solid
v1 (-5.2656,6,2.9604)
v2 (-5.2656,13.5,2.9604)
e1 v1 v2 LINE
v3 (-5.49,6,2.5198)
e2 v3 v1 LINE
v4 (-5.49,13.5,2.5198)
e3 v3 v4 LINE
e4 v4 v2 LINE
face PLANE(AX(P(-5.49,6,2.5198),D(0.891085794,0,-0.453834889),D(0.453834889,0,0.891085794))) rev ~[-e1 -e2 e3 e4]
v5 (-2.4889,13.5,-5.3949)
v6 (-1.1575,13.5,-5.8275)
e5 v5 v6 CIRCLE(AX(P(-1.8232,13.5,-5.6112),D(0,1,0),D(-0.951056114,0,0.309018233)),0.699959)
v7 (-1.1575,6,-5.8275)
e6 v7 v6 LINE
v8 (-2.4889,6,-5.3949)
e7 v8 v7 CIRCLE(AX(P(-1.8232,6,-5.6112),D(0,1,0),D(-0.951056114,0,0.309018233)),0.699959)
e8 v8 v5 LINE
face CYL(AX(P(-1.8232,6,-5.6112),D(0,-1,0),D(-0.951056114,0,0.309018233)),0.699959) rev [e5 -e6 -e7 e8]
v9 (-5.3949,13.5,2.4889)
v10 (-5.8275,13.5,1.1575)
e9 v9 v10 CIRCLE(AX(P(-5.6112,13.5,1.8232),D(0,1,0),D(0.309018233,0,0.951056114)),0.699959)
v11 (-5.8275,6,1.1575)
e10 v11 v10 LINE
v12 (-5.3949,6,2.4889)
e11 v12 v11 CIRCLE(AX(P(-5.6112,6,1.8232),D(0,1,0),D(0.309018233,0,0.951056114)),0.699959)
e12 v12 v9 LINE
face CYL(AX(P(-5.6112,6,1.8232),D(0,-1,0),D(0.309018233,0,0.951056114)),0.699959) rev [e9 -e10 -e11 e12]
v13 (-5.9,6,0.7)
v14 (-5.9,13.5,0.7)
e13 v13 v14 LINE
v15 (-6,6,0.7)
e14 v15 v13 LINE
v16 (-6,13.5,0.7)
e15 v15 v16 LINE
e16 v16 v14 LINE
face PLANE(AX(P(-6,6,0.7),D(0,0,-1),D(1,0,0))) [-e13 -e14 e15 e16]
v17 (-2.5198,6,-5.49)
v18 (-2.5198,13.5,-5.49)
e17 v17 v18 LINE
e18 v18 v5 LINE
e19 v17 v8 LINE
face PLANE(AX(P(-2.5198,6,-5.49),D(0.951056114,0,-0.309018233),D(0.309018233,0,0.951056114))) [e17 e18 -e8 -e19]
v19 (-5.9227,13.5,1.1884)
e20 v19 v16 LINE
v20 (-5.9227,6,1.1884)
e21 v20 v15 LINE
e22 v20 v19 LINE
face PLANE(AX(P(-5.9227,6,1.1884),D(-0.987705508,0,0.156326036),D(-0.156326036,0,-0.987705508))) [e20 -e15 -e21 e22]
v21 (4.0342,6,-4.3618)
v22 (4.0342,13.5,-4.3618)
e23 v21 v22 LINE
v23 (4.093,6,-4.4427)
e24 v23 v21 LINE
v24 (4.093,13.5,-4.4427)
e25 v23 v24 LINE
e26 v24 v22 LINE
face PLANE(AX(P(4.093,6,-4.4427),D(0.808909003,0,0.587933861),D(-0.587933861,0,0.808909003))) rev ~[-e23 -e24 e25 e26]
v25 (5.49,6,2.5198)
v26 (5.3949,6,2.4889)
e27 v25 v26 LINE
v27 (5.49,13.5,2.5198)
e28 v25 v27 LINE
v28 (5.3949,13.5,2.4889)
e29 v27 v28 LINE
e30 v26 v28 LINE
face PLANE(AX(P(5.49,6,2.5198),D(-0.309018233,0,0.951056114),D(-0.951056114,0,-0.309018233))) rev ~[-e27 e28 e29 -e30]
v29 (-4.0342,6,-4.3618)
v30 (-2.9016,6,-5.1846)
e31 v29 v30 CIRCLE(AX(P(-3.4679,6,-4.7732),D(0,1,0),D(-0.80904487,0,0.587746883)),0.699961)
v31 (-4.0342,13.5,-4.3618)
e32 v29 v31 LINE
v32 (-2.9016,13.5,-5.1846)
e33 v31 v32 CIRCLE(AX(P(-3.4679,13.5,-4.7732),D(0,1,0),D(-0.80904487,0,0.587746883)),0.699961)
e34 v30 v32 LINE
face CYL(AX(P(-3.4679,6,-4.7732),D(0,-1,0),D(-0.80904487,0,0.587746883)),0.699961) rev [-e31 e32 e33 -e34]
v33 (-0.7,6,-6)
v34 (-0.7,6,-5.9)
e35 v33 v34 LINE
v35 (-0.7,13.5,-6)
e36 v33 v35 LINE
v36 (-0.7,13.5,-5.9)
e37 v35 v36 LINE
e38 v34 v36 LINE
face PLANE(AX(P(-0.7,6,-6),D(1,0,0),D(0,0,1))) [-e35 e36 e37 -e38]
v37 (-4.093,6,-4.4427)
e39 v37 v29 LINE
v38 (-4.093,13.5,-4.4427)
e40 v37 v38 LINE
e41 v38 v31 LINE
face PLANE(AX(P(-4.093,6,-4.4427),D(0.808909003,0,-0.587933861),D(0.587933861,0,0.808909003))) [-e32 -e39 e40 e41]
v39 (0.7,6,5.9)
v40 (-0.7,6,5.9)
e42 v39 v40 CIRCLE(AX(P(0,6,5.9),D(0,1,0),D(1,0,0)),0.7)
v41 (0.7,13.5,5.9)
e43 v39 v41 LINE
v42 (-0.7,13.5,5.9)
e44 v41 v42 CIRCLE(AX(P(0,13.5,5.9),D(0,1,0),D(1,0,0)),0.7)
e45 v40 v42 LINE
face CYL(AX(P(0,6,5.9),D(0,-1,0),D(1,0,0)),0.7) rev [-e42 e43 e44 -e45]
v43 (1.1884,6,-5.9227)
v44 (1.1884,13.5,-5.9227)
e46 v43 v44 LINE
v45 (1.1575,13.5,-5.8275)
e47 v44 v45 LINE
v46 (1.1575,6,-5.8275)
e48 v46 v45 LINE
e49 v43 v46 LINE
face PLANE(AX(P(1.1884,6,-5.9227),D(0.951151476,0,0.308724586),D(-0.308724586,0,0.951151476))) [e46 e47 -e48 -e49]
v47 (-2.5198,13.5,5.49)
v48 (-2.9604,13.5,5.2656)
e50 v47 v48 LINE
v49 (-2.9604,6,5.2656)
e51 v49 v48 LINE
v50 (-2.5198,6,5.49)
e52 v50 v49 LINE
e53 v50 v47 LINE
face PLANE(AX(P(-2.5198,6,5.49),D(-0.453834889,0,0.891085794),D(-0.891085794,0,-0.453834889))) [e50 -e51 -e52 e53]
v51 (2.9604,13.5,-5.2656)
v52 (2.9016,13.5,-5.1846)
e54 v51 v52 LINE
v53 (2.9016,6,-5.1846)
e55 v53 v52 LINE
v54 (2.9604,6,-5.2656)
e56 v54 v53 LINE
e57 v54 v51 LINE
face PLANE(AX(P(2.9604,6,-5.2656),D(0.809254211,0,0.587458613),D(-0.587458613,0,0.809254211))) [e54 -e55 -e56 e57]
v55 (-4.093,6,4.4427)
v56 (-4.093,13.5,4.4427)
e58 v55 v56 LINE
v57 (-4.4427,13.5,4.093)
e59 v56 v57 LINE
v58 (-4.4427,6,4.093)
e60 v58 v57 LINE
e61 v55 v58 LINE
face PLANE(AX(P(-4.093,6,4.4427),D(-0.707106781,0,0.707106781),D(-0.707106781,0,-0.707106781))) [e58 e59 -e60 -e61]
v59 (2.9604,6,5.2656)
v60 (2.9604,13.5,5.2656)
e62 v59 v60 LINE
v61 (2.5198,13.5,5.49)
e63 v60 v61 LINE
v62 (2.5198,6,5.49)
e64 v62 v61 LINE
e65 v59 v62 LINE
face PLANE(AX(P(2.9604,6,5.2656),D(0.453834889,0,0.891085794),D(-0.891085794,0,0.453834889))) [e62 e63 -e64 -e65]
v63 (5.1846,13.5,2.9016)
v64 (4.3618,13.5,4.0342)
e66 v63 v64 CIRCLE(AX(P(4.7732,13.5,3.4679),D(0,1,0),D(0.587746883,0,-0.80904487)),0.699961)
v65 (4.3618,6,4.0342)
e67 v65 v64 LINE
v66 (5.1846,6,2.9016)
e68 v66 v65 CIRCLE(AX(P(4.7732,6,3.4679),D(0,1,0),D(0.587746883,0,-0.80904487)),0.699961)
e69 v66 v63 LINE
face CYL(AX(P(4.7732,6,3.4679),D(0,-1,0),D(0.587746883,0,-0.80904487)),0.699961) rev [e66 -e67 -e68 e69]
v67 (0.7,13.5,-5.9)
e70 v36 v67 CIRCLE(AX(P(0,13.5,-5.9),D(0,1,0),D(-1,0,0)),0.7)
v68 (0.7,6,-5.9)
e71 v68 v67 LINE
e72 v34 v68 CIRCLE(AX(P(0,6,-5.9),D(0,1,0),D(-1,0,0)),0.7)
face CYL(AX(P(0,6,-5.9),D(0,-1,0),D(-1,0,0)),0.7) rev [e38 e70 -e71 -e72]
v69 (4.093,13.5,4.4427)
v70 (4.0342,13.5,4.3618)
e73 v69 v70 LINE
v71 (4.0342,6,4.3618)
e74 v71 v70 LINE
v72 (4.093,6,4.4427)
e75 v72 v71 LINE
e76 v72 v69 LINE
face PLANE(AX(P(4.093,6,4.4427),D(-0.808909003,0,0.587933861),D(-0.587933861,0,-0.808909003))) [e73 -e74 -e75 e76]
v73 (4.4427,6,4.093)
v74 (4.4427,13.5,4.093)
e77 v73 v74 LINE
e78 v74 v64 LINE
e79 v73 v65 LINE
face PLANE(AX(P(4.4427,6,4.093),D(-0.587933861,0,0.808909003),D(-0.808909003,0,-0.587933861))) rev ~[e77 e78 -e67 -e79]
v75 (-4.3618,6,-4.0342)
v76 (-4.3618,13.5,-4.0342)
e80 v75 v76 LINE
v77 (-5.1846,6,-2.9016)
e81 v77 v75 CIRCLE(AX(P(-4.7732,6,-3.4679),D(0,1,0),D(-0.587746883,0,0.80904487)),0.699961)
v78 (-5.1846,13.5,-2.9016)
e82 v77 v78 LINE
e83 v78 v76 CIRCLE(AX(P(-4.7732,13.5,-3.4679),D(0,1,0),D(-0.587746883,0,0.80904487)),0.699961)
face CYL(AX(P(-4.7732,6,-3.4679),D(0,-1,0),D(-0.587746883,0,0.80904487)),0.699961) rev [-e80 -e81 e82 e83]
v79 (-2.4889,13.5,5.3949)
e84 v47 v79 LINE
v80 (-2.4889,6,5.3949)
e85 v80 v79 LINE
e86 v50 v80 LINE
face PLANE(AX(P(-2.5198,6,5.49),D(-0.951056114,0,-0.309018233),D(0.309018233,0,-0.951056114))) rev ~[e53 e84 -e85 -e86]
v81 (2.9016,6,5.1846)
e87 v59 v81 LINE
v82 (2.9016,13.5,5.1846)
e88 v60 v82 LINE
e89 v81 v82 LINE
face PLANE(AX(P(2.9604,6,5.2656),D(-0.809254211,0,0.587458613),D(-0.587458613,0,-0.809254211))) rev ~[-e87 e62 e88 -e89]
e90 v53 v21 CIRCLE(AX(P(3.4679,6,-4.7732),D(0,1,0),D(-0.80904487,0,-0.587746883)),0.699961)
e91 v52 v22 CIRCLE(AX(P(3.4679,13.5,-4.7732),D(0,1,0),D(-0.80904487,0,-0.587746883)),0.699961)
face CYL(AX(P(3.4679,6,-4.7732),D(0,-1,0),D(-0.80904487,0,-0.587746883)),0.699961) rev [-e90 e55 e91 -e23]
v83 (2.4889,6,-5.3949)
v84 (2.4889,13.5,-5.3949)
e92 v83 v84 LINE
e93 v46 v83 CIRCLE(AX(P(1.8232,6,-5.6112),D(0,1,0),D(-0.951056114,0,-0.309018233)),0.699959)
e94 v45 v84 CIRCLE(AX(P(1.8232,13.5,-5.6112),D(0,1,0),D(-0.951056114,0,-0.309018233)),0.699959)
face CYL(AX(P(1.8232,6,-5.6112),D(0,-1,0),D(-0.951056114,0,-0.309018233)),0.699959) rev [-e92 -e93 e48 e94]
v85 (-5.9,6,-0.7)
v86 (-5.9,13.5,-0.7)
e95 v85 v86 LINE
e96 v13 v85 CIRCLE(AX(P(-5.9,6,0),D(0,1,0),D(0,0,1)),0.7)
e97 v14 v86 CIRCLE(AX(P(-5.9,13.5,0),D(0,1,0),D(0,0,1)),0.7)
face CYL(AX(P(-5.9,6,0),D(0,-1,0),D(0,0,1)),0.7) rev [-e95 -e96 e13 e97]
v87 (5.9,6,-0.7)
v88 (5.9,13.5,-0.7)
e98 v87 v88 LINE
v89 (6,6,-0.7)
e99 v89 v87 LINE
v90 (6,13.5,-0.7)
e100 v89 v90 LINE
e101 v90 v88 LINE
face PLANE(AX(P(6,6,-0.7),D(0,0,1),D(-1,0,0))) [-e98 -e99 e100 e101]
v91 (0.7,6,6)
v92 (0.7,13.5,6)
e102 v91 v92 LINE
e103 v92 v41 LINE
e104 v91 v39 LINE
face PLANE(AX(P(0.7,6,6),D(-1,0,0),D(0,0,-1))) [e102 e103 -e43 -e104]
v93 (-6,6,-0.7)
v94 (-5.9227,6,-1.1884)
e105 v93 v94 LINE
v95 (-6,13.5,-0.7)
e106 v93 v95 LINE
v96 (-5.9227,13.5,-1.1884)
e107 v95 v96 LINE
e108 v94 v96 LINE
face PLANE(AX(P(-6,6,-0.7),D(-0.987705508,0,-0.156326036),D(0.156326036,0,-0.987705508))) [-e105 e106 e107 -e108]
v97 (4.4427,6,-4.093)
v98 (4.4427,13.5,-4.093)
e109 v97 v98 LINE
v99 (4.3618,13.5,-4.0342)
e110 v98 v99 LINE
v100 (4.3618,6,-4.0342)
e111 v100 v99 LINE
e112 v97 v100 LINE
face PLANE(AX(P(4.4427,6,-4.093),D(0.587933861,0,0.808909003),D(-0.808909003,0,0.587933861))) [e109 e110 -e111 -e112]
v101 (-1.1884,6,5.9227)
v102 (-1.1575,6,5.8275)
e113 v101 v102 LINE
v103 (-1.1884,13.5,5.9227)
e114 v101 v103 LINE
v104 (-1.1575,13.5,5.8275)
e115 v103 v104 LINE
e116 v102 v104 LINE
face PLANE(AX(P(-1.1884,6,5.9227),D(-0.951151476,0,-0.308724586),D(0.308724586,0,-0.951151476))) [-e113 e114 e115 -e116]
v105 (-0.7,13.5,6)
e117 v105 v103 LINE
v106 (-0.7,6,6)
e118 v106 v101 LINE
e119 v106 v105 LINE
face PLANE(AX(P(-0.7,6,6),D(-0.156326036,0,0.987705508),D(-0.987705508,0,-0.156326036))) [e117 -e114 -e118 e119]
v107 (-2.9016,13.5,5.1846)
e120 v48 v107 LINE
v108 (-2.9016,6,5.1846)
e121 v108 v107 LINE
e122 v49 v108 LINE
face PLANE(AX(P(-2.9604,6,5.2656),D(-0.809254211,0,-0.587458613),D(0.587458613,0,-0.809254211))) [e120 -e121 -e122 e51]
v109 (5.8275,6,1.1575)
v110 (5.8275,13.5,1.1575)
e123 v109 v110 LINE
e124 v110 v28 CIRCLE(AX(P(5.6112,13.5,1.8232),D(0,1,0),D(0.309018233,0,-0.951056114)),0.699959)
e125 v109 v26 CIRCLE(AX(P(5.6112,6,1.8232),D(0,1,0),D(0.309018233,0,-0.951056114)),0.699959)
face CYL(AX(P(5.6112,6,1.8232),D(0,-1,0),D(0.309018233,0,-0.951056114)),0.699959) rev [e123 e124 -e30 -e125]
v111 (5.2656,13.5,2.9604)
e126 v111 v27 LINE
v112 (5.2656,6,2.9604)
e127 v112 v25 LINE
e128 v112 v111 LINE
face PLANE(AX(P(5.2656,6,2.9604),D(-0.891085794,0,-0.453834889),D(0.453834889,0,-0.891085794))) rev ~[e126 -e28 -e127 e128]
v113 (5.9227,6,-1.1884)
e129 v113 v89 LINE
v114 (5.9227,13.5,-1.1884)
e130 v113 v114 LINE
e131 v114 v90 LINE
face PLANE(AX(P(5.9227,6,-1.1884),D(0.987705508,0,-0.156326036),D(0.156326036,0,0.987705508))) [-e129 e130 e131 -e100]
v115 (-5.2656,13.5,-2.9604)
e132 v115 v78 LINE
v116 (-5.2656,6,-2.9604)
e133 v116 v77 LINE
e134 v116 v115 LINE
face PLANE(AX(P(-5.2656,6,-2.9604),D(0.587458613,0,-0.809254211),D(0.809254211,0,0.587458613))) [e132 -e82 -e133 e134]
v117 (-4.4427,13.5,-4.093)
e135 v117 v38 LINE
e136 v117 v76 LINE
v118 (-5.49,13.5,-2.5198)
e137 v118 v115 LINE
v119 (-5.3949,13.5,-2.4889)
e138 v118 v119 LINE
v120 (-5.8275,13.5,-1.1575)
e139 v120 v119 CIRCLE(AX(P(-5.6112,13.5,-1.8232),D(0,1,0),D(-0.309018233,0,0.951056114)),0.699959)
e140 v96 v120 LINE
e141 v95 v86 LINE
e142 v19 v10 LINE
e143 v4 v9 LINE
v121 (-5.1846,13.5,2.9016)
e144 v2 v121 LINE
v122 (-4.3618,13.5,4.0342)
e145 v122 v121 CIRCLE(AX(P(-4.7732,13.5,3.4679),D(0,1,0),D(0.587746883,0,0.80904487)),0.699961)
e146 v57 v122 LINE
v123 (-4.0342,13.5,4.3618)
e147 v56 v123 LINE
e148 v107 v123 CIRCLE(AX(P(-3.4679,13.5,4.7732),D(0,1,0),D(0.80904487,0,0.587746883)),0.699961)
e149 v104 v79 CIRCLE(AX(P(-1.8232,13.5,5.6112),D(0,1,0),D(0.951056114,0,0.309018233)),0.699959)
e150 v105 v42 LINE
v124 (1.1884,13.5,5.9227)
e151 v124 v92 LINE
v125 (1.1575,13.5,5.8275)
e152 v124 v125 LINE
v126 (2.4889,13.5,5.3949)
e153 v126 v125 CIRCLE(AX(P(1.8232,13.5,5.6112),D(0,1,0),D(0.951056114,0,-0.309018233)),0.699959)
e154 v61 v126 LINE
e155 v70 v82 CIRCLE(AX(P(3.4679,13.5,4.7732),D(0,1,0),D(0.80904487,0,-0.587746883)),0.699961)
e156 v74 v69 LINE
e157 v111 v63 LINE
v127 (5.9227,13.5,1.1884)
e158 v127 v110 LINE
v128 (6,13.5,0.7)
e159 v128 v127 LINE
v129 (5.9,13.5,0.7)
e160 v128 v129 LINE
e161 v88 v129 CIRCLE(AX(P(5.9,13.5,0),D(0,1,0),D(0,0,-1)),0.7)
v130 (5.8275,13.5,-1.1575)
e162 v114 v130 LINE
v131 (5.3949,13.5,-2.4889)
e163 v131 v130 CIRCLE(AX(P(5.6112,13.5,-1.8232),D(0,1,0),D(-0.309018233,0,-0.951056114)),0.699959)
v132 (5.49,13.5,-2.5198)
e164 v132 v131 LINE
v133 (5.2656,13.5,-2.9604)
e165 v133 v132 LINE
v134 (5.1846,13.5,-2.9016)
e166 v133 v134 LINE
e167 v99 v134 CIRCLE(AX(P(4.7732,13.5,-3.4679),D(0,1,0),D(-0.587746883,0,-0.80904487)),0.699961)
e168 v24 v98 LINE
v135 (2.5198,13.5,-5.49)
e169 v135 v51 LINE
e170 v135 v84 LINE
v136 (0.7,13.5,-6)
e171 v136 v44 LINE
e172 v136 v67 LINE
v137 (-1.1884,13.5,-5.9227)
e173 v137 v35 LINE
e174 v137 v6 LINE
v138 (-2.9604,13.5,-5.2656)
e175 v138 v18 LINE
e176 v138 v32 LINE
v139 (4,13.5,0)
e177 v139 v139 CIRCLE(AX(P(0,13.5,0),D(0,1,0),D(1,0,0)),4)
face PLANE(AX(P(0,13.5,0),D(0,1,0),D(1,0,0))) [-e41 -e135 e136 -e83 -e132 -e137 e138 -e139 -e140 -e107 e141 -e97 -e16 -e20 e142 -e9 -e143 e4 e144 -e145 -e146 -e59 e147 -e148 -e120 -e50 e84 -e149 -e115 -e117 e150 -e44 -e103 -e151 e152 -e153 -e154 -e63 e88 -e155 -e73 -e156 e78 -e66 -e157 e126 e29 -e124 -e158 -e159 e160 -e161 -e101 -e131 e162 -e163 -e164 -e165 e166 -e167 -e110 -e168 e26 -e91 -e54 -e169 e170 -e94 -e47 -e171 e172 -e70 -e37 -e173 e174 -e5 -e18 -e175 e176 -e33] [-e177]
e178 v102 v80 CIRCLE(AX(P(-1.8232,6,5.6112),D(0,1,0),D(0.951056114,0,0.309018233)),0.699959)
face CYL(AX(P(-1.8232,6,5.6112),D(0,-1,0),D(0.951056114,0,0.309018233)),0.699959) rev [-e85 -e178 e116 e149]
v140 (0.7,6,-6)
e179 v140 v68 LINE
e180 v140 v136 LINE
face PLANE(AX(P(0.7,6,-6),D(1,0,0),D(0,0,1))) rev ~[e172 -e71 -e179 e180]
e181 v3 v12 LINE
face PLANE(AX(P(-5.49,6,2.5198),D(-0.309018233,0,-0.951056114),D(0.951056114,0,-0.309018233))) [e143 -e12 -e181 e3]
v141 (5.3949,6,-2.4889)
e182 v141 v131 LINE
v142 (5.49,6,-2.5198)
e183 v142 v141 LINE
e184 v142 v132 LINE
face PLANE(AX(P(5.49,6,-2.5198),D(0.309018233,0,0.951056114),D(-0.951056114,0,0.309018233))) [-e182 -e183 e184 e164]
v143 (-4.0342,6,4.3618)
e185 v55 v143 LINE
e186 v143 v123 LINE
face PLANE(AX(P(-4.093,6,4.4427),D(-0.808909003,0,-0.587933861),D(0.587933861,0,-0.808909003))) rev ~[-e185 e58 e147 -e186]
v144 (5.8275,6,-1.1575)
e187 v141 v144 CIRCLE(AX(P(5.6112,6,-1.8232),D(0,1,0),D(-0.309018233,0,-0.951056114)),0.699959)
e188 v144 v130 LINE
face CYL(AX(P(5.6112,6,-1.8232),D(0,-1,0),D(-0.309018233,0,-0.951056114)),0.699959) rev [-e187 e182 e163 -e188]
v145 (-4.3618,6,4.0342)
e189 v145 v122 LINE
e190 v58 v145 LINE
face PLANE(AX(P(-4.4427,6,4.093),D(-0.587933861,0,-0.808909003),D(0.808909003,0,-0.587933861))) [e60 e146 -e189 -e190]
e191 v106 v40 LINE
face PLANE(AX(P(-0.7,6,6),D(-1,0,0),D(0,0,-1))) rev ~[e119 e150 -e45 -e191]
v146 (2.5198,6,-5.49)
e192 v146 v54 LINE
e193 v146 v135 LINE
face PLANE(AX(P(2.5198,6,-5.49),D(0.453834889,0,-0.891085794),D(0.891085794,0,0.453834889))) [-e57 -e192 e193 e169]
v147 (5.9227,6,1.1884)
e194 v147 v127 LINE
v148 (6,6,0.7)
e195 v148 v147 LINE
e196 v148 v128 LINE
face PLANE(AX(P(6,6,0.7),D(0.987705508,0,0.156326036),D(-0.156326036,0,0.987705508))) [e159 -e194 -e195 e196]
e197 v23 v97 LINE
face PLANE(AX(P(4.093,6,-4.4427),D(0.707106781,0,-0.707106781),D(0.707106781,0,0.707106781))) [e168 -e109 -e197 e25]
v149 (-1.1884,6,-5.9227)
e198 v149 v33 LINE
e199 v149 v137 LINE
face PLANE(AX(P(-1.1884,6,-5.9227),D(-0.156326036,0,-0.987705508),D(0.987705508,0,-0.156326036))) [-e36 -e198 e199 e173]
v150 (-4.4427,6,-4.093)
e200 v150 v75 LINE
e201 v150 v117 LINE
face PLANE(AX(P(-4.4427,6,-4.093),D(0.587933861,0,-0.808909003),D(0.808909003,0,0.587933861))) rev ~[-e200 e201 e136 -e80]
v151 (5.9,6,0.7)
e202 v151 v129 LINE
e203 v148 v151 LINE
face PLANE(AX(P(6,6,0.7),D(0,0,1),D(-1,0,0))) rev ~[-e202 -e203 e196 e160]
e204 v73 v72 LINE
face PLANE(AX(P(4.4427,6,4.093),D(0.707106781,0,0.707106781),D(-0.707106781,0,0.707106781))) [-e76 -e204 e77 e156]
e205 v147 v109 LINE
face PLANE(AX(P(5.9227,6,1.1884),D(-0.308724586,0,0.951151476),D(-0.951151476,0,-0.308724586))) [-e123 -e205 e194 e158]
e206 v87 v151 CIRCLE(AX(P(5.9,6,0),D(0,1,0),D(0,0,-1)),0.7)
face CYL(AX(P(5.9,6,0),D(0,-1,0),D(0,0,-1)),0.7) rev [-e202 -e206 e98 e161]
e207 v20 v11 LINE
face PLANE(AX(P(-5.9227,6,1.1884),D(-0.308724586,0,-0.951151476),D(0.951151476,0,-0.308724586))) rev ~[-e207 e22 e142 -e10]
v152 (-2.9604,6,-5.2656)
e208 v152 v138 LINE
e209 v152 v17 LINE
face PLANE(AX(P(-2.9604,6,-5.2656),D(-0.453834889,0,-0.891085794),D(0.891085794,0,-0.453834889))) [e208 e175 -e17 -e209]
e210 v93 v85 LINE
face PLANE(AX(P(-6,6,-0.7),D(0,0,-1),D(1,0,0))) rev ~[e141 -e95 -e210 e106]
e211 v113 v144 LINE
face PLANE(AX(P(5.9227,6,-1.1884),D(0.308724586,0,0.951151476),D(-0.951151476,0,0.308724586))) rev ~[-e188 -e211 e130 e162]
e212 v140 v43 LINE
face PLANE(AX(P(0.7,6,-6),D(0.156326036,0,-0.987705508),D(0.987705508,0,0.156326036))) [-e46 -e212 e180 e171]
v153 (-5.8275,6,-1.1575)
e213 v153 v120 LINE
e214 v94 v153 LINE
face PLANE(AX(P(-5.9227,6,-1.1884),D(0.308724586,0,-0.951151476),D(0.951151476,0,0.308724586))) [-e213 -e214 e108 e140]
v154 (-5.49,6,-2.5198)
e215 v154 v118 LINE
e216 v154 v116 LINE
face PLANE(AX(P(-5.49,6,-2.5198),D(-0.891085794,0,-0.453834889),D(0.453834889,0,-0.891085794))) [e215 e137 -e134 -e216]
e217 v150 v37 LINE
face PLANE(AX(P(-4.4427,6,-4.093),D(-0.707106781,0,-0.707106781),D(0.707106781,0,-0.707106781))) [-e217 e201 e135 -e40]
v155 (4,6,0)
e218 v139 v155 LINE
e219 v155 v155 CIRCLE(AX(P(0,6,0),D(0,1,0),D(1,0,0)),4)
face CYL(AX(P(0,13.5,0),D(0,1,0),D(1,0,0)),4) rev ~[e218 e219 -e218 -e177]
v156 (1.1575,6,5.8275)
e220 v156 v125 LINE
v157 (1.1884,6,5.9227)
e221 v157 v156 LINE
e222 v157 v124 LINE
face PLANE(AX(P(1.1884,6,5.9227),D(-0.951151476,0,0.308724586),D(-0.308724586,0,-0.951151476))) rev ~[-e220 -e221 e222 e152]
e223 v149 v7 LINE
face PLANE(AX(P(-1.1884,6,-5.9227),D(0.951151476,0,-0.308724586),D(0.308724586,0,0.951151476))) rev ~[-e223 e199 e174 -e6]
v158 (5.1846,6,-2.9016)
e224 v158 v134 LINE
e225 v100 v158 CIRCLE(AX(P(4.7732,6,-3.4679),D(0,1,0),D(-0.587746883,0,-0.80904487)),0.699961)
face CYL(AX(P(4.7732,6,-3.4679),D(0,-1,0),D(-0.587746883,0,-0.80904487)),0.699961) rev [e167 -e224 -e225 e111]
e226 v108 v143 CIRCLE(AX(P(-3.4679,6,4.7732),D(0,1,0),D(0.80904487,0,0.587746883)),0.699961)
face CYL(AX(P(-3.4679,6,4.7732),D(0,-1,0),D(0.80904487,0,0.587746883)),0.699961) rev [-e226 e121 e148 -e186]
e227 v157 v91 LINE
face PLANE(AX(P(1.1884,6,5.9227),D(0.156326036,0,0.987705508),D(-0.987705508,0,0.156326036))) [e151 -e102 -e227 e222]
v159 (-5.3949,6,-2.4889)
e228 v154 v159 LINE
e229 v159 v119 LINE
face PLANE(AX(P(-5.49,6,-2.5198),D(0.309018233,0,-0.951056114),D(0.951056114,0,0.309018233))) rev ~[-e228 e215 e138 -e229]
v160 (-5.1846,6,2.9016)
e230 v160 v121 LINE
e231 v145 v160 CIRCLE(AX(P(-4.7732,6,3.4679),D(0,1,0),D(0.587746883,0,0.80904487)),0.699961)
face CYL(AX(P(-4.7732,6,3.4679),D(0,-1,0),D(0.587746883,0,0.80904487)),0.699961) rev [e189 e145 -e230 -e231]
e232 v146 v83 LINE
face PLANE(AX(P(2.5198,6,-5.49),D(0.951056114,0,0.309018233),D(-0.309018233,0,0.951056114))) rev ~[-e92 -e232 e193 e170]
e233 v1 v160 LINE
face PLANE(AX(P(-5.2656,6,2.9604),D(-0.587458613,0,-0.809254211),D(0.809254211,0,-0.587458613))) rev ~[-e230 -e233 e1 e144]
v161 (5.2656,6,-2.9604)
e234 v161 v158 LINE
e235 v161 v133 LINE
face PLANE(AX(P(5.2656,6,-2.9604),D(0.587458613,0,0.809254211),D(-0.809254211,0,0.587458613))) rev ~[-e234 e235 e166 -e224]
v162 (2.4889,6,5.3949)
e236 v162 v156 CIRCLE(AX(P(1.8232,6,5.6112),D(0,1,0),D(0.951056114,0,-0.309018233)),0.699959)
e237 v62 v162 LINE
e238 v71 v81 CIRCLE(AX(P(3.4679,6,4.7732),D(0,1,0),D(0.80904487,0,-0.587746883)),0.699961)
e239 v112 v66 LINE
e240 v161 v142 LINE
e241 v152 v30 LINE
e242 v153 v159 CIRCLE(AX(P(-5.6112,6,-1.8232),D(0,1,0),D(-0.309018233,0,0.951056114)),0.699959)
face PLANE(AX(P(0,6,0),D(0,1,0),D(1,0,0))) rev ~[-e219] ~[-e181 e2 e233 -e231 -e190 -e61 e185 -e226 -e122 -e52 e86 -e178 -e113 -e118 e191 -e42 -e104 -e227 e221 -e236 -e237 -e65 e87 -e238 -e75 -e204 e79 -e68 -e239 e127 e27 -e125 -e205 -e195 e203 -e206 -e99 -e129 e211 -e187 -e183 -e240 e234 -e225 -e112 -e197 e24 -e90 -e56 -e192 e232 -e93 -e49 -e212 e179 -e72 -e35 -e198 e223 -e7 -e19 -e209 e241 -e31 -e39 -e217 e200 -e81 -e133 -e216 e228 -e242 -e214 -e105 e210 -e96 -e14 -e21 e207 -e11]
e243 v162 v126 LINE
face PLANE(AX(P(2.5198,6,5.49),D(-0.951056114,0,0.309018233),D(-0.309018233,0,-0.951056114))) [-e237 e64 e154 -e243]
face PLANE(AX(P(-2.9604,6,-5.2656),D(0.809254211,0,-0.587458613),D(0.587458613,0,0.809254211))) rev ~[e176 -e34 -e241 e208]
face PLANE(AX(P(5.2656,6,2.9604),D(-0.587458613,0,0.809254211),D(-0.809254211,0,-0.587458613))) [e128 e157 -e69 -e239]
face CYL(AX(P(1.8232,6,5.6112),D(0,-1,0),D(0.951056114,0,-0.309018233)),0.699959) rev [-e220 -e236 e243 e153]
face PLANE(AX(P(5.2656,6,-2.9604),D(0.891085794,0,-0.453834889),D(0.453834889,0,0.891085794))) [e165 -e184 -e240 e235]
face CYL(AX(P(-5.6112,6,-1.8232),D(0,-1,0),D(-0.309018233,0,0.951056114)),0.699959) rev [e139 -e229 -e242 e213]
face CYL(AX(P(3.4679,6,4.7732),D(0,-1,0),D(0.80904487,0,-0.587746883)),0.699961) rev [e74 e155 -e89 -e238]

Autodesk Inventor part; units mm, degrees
ref_plane "YZ Plane" through (0, 0, 0) normal (1, 0, 0) x (0, 1, 0)
ref_plane "XZ Plane" through (0, 0, 0) normal (0, 1, 0) x (-1, 0, 0)
ref_plane "Work Plane7" through (0, 6, 0) normal (0, 1, 0) x (1, 0, 0)
sketch "Sketch2" plane through (0, 6, 0) normal (0, 1, 0) x (1, 0, 0)
  line L0 (0.7, 6) -> (0.7, 5.9)
  line L1 (-0.7, 6) -> (-0.7, 5.9)
  arc A0 (-0.7, 5.9) -> (0.7, 5.9) centre (0, 5.9) ccw
  line L2 (-1.1884, 5.9227) -> (-1.1575, 5.8275)
  line L3 (-2.5198, 5.49) -> (-2.4889, 5.3949)
  arc A1 (-2.4889, 5.3949) -> (-1.1575, 5.8275) centre (-1.8232, 5.6112) ccw
  line L4 (-2.9604, 5.2656) -> (-2.9016, 5.1846)
  line L5 (-4.093, 4.4427) -> (-4.0342, 4.3618)
  arc A2 (-4.0342, 4.3618) -> (-2.9016, 5.1846) centre (-3.4679, 4.7732) ccw
  line L6 (-4.4427, 4.093) -> (-4.3618, 4.0342)
  line L7 (-5.2656, 2.9604) -> (-5.1846, 2.9016)
  arc A3 (-5.1846, 2.9016) -> (-4.3618, 4.0342) centre (-4.7732, 3.4679) ccw
  line L8 (-5.49, 2.5198) -> (-5.3949, 2.4889)
  line L9 (-5.9227, 1.1884) -> (-5.8275, 1.1575)
  arc A4 (-5.8275, 1.1575) -> (-5.3949, 2.4889) centre (-5.6112, 1.8232) ccw
  line L10 (-6, 0.7) -> (-5.9, 0.7)
  line L11 (-6, -0.7) -> (-5.9, -0.7)
  arc A5 (-5.9, -0.7) -> (-5.9, 0.7) centre (-5.9, 0) ccw
  line L12 (-5.9227, -1.1884) -> (-5.8275, -1.1575)
  line L13 (-5.49, -2.5198) -> (-5.3949, -2.4889)
  arc A6 (-5.3949, -2.4889) -> (-5.8275, -1.1575) centre (-5.6112, -1.8232) ccw
  line L14 (-5.2656, -2.9604) -> (-5.1846, -2.9016)
  line L15 (-4.4427, -4.093) -> (-4.3618, -4.0342)
  arc A7 (-4.3618, -4.0342) -> (-5.1846, -2.9016) centre (-4.7732, -3.4679) ccw
  line L16 (-4.093, -4.4427) -> (-4.0342, -4.3618)
  line L17 (-2.9604, -5.2656) -> (-2.9016, -5.1846)
  arc A8 (-2.9016, -5.1846) -> (-4.0342, -4.3618) centre (-3.4679, -4.7732) ccw
  line L18 (-2.5198, -5.49) -> (-2.4889, -5.3949)
  line L19 (-1.1884, -5.9227) -> (-1.1575, -5.8275)
  arc A9 (-1.1575, -5.8275) -> (-2.4889, -5.3949) centre (-1.8232, -5.6112) ccw
  line L20 (-0.7, -6) -> (-0.7, -5.9)
  line L21 (0.7, -6) -> (0.7, -5.9)
  arc A10 (0.7, -5.9) -> (-0.7, -5.9) centre (0, -5.9) ccw
  line L22 (1.1884, -5.9227) -> (1.1575, -5.8275)
  line L23 (2.5198, -5.49) -> (2.4889, -5.3949)
  arc A11 (2.4889, -5.3949) -> (1.1575, -5.8275) centre (1.8232, -5.6112) ccw
  line L24 (2.9604, -5.2656) -> (2.9016, -5.1846)
  line L25 (4.093, -4.4427) -> (4.0342, -4.3618)
  arc A12 (4.0342, -4.3618) -> (2.9016, -5.1846) centre (3.4679, -4.7732) ccw
  line L26 (4.4427, -4.093) -> (4.3618, -4.0342)
  line L27 (5.2656, -2.9604) -> (5.1846, -2.9016)
  arc A13 (5.1846, -2.9016) -> (4.3618, -4.0342) centre (4.7732, -3.4679) ccw
  line L28 (5.49, -2.5198) -> (5.3949, -2.4889)
  line L29 (5.9227, -1.1884) -> (5.8275, -1.1575)
  arc A14 (5.8275, -1.1575) -> (5.3949, -2.4889) centre (5.6112, -1.8232) ccw
  line L30 (6, -0.7) -> (5.9, -0.7)
  line L31 (6, 0.7) -> (5.9, 0.7)
  arc A15 (5.9, 0.7) -> (5.9, -0.7) centre (5.9, 0) ccw
  line L32 (5.9227, 1.1884) -> (5.8275, 1.1575)
  line L33 (5.49, 2.5198) -> (5.3949, 2.4889)
  arc A16 (5.3949, 2.4889) -> (5.8275, 1.1575) centre (5.6112, 1.8232) ccw
  line L34 (5.2656, 2.9604) -> (5.1846, 2.9016)
  line L35 (4.4427, 4.093) -> (4.3618, 4.0342)
  arc A17 (4.3618, 4.0342) -> (5.1846, 2.9016) centre (4.7732, 3.4679) ccw
  line L36 (4.093, 4.4427) -> (4.0342, 4.3618)
  line L37 (2.9604, 5.2656) -> (2.9016, 5.1846)
  arc A18 (2.9016, 5.1846) -> (4.0342, 4.3618) centre (3.4679, 4.7732) ccw
  line L38 (2.5198, 5.49) -> (2.4889, 5.3949)
  line L39 (1.1884, 5.9227) -> (1.1575, 5.8275)
  arc A19 (1.1575, 5.8275) -> (2.4889, 5.3949) centre (1.8232, 5.6112) ccw
  line L40 (-2.9604, 5.2656) -> (-2.5198, 5.49)
  line L41 (-1.1884, 5.9227) -> (-0.7, 6)
  line L42 (0.7, 6) -> (1.1884, 5.9227)
  line L43 (2.5198, 5.49) -> (2.9604, 5.2656)
  line L44 (4.093, 4.4427) -> (4.4427, 4.093)
  line L45 (5.2656, 2.9604) -> (5.49, 2.5198)
  line L46 (5.9227, 1.1884) -> (6, 0.7)
  line L47 (6, -0.7) -> (5.9227, -1.1884)
  line L48 (5.2656, -2.9604) -> (5.49, -2.5198)
  line L49 (4.4427, -4.093) -> (4.093, -4.4427)
  line L50 (2.9604, -5.2656) -> (2.5198, -5.49)
  line L51 (1.1884, -5.9227) -> (0.7, -6)
  line L52 (-0.7, -6) -> (-1.1884, -5.9227)
  line L53 (-2.5198, -5.49) -> (-2.9604, -5.2656)
  line L54 (-4.093, -4.4427) -> (-4.4427, -4.093)
  line L55 (-5.49, -2.5198) -> (-5.2656, -2.9604)
  line L56 (-5.9227, -1.1884) -> (-6, -0.7)
  line L57 (-6, 0.7) -> (-5.9227, 1.1884)
  line L58 (-5.49, 2.5198) -> (-5.2656, 2.9604)
  line L59 (-4.4427, 4.093) -> (-4.093, 4.4427)
  point P0 (0, 0)
  point P1 (-5.9, 0)
  dimension "d15" = 0.1
  dimension "d16" = 0.7
  dimension "d17" = 0.1
  dimension "d24" = 360
  dimension "d60" = 5.9
  dimension "d61" = 81
extrude "Extrusion9" add sketch "Sketch2" along normal blind 7.5
sketch "Sketch11" plane through (0, 13.5, 0) normal (0, 1, 0) x (1, 0, 0)
  circle A0 centre (0, 0) radius 4
  dimension "d64" = 8
extrude "Extrusion10" cut sketch "Sketch11" against normal up to next
properties part number "PulleyGT2x20Top" material "Aluminum 6061"
